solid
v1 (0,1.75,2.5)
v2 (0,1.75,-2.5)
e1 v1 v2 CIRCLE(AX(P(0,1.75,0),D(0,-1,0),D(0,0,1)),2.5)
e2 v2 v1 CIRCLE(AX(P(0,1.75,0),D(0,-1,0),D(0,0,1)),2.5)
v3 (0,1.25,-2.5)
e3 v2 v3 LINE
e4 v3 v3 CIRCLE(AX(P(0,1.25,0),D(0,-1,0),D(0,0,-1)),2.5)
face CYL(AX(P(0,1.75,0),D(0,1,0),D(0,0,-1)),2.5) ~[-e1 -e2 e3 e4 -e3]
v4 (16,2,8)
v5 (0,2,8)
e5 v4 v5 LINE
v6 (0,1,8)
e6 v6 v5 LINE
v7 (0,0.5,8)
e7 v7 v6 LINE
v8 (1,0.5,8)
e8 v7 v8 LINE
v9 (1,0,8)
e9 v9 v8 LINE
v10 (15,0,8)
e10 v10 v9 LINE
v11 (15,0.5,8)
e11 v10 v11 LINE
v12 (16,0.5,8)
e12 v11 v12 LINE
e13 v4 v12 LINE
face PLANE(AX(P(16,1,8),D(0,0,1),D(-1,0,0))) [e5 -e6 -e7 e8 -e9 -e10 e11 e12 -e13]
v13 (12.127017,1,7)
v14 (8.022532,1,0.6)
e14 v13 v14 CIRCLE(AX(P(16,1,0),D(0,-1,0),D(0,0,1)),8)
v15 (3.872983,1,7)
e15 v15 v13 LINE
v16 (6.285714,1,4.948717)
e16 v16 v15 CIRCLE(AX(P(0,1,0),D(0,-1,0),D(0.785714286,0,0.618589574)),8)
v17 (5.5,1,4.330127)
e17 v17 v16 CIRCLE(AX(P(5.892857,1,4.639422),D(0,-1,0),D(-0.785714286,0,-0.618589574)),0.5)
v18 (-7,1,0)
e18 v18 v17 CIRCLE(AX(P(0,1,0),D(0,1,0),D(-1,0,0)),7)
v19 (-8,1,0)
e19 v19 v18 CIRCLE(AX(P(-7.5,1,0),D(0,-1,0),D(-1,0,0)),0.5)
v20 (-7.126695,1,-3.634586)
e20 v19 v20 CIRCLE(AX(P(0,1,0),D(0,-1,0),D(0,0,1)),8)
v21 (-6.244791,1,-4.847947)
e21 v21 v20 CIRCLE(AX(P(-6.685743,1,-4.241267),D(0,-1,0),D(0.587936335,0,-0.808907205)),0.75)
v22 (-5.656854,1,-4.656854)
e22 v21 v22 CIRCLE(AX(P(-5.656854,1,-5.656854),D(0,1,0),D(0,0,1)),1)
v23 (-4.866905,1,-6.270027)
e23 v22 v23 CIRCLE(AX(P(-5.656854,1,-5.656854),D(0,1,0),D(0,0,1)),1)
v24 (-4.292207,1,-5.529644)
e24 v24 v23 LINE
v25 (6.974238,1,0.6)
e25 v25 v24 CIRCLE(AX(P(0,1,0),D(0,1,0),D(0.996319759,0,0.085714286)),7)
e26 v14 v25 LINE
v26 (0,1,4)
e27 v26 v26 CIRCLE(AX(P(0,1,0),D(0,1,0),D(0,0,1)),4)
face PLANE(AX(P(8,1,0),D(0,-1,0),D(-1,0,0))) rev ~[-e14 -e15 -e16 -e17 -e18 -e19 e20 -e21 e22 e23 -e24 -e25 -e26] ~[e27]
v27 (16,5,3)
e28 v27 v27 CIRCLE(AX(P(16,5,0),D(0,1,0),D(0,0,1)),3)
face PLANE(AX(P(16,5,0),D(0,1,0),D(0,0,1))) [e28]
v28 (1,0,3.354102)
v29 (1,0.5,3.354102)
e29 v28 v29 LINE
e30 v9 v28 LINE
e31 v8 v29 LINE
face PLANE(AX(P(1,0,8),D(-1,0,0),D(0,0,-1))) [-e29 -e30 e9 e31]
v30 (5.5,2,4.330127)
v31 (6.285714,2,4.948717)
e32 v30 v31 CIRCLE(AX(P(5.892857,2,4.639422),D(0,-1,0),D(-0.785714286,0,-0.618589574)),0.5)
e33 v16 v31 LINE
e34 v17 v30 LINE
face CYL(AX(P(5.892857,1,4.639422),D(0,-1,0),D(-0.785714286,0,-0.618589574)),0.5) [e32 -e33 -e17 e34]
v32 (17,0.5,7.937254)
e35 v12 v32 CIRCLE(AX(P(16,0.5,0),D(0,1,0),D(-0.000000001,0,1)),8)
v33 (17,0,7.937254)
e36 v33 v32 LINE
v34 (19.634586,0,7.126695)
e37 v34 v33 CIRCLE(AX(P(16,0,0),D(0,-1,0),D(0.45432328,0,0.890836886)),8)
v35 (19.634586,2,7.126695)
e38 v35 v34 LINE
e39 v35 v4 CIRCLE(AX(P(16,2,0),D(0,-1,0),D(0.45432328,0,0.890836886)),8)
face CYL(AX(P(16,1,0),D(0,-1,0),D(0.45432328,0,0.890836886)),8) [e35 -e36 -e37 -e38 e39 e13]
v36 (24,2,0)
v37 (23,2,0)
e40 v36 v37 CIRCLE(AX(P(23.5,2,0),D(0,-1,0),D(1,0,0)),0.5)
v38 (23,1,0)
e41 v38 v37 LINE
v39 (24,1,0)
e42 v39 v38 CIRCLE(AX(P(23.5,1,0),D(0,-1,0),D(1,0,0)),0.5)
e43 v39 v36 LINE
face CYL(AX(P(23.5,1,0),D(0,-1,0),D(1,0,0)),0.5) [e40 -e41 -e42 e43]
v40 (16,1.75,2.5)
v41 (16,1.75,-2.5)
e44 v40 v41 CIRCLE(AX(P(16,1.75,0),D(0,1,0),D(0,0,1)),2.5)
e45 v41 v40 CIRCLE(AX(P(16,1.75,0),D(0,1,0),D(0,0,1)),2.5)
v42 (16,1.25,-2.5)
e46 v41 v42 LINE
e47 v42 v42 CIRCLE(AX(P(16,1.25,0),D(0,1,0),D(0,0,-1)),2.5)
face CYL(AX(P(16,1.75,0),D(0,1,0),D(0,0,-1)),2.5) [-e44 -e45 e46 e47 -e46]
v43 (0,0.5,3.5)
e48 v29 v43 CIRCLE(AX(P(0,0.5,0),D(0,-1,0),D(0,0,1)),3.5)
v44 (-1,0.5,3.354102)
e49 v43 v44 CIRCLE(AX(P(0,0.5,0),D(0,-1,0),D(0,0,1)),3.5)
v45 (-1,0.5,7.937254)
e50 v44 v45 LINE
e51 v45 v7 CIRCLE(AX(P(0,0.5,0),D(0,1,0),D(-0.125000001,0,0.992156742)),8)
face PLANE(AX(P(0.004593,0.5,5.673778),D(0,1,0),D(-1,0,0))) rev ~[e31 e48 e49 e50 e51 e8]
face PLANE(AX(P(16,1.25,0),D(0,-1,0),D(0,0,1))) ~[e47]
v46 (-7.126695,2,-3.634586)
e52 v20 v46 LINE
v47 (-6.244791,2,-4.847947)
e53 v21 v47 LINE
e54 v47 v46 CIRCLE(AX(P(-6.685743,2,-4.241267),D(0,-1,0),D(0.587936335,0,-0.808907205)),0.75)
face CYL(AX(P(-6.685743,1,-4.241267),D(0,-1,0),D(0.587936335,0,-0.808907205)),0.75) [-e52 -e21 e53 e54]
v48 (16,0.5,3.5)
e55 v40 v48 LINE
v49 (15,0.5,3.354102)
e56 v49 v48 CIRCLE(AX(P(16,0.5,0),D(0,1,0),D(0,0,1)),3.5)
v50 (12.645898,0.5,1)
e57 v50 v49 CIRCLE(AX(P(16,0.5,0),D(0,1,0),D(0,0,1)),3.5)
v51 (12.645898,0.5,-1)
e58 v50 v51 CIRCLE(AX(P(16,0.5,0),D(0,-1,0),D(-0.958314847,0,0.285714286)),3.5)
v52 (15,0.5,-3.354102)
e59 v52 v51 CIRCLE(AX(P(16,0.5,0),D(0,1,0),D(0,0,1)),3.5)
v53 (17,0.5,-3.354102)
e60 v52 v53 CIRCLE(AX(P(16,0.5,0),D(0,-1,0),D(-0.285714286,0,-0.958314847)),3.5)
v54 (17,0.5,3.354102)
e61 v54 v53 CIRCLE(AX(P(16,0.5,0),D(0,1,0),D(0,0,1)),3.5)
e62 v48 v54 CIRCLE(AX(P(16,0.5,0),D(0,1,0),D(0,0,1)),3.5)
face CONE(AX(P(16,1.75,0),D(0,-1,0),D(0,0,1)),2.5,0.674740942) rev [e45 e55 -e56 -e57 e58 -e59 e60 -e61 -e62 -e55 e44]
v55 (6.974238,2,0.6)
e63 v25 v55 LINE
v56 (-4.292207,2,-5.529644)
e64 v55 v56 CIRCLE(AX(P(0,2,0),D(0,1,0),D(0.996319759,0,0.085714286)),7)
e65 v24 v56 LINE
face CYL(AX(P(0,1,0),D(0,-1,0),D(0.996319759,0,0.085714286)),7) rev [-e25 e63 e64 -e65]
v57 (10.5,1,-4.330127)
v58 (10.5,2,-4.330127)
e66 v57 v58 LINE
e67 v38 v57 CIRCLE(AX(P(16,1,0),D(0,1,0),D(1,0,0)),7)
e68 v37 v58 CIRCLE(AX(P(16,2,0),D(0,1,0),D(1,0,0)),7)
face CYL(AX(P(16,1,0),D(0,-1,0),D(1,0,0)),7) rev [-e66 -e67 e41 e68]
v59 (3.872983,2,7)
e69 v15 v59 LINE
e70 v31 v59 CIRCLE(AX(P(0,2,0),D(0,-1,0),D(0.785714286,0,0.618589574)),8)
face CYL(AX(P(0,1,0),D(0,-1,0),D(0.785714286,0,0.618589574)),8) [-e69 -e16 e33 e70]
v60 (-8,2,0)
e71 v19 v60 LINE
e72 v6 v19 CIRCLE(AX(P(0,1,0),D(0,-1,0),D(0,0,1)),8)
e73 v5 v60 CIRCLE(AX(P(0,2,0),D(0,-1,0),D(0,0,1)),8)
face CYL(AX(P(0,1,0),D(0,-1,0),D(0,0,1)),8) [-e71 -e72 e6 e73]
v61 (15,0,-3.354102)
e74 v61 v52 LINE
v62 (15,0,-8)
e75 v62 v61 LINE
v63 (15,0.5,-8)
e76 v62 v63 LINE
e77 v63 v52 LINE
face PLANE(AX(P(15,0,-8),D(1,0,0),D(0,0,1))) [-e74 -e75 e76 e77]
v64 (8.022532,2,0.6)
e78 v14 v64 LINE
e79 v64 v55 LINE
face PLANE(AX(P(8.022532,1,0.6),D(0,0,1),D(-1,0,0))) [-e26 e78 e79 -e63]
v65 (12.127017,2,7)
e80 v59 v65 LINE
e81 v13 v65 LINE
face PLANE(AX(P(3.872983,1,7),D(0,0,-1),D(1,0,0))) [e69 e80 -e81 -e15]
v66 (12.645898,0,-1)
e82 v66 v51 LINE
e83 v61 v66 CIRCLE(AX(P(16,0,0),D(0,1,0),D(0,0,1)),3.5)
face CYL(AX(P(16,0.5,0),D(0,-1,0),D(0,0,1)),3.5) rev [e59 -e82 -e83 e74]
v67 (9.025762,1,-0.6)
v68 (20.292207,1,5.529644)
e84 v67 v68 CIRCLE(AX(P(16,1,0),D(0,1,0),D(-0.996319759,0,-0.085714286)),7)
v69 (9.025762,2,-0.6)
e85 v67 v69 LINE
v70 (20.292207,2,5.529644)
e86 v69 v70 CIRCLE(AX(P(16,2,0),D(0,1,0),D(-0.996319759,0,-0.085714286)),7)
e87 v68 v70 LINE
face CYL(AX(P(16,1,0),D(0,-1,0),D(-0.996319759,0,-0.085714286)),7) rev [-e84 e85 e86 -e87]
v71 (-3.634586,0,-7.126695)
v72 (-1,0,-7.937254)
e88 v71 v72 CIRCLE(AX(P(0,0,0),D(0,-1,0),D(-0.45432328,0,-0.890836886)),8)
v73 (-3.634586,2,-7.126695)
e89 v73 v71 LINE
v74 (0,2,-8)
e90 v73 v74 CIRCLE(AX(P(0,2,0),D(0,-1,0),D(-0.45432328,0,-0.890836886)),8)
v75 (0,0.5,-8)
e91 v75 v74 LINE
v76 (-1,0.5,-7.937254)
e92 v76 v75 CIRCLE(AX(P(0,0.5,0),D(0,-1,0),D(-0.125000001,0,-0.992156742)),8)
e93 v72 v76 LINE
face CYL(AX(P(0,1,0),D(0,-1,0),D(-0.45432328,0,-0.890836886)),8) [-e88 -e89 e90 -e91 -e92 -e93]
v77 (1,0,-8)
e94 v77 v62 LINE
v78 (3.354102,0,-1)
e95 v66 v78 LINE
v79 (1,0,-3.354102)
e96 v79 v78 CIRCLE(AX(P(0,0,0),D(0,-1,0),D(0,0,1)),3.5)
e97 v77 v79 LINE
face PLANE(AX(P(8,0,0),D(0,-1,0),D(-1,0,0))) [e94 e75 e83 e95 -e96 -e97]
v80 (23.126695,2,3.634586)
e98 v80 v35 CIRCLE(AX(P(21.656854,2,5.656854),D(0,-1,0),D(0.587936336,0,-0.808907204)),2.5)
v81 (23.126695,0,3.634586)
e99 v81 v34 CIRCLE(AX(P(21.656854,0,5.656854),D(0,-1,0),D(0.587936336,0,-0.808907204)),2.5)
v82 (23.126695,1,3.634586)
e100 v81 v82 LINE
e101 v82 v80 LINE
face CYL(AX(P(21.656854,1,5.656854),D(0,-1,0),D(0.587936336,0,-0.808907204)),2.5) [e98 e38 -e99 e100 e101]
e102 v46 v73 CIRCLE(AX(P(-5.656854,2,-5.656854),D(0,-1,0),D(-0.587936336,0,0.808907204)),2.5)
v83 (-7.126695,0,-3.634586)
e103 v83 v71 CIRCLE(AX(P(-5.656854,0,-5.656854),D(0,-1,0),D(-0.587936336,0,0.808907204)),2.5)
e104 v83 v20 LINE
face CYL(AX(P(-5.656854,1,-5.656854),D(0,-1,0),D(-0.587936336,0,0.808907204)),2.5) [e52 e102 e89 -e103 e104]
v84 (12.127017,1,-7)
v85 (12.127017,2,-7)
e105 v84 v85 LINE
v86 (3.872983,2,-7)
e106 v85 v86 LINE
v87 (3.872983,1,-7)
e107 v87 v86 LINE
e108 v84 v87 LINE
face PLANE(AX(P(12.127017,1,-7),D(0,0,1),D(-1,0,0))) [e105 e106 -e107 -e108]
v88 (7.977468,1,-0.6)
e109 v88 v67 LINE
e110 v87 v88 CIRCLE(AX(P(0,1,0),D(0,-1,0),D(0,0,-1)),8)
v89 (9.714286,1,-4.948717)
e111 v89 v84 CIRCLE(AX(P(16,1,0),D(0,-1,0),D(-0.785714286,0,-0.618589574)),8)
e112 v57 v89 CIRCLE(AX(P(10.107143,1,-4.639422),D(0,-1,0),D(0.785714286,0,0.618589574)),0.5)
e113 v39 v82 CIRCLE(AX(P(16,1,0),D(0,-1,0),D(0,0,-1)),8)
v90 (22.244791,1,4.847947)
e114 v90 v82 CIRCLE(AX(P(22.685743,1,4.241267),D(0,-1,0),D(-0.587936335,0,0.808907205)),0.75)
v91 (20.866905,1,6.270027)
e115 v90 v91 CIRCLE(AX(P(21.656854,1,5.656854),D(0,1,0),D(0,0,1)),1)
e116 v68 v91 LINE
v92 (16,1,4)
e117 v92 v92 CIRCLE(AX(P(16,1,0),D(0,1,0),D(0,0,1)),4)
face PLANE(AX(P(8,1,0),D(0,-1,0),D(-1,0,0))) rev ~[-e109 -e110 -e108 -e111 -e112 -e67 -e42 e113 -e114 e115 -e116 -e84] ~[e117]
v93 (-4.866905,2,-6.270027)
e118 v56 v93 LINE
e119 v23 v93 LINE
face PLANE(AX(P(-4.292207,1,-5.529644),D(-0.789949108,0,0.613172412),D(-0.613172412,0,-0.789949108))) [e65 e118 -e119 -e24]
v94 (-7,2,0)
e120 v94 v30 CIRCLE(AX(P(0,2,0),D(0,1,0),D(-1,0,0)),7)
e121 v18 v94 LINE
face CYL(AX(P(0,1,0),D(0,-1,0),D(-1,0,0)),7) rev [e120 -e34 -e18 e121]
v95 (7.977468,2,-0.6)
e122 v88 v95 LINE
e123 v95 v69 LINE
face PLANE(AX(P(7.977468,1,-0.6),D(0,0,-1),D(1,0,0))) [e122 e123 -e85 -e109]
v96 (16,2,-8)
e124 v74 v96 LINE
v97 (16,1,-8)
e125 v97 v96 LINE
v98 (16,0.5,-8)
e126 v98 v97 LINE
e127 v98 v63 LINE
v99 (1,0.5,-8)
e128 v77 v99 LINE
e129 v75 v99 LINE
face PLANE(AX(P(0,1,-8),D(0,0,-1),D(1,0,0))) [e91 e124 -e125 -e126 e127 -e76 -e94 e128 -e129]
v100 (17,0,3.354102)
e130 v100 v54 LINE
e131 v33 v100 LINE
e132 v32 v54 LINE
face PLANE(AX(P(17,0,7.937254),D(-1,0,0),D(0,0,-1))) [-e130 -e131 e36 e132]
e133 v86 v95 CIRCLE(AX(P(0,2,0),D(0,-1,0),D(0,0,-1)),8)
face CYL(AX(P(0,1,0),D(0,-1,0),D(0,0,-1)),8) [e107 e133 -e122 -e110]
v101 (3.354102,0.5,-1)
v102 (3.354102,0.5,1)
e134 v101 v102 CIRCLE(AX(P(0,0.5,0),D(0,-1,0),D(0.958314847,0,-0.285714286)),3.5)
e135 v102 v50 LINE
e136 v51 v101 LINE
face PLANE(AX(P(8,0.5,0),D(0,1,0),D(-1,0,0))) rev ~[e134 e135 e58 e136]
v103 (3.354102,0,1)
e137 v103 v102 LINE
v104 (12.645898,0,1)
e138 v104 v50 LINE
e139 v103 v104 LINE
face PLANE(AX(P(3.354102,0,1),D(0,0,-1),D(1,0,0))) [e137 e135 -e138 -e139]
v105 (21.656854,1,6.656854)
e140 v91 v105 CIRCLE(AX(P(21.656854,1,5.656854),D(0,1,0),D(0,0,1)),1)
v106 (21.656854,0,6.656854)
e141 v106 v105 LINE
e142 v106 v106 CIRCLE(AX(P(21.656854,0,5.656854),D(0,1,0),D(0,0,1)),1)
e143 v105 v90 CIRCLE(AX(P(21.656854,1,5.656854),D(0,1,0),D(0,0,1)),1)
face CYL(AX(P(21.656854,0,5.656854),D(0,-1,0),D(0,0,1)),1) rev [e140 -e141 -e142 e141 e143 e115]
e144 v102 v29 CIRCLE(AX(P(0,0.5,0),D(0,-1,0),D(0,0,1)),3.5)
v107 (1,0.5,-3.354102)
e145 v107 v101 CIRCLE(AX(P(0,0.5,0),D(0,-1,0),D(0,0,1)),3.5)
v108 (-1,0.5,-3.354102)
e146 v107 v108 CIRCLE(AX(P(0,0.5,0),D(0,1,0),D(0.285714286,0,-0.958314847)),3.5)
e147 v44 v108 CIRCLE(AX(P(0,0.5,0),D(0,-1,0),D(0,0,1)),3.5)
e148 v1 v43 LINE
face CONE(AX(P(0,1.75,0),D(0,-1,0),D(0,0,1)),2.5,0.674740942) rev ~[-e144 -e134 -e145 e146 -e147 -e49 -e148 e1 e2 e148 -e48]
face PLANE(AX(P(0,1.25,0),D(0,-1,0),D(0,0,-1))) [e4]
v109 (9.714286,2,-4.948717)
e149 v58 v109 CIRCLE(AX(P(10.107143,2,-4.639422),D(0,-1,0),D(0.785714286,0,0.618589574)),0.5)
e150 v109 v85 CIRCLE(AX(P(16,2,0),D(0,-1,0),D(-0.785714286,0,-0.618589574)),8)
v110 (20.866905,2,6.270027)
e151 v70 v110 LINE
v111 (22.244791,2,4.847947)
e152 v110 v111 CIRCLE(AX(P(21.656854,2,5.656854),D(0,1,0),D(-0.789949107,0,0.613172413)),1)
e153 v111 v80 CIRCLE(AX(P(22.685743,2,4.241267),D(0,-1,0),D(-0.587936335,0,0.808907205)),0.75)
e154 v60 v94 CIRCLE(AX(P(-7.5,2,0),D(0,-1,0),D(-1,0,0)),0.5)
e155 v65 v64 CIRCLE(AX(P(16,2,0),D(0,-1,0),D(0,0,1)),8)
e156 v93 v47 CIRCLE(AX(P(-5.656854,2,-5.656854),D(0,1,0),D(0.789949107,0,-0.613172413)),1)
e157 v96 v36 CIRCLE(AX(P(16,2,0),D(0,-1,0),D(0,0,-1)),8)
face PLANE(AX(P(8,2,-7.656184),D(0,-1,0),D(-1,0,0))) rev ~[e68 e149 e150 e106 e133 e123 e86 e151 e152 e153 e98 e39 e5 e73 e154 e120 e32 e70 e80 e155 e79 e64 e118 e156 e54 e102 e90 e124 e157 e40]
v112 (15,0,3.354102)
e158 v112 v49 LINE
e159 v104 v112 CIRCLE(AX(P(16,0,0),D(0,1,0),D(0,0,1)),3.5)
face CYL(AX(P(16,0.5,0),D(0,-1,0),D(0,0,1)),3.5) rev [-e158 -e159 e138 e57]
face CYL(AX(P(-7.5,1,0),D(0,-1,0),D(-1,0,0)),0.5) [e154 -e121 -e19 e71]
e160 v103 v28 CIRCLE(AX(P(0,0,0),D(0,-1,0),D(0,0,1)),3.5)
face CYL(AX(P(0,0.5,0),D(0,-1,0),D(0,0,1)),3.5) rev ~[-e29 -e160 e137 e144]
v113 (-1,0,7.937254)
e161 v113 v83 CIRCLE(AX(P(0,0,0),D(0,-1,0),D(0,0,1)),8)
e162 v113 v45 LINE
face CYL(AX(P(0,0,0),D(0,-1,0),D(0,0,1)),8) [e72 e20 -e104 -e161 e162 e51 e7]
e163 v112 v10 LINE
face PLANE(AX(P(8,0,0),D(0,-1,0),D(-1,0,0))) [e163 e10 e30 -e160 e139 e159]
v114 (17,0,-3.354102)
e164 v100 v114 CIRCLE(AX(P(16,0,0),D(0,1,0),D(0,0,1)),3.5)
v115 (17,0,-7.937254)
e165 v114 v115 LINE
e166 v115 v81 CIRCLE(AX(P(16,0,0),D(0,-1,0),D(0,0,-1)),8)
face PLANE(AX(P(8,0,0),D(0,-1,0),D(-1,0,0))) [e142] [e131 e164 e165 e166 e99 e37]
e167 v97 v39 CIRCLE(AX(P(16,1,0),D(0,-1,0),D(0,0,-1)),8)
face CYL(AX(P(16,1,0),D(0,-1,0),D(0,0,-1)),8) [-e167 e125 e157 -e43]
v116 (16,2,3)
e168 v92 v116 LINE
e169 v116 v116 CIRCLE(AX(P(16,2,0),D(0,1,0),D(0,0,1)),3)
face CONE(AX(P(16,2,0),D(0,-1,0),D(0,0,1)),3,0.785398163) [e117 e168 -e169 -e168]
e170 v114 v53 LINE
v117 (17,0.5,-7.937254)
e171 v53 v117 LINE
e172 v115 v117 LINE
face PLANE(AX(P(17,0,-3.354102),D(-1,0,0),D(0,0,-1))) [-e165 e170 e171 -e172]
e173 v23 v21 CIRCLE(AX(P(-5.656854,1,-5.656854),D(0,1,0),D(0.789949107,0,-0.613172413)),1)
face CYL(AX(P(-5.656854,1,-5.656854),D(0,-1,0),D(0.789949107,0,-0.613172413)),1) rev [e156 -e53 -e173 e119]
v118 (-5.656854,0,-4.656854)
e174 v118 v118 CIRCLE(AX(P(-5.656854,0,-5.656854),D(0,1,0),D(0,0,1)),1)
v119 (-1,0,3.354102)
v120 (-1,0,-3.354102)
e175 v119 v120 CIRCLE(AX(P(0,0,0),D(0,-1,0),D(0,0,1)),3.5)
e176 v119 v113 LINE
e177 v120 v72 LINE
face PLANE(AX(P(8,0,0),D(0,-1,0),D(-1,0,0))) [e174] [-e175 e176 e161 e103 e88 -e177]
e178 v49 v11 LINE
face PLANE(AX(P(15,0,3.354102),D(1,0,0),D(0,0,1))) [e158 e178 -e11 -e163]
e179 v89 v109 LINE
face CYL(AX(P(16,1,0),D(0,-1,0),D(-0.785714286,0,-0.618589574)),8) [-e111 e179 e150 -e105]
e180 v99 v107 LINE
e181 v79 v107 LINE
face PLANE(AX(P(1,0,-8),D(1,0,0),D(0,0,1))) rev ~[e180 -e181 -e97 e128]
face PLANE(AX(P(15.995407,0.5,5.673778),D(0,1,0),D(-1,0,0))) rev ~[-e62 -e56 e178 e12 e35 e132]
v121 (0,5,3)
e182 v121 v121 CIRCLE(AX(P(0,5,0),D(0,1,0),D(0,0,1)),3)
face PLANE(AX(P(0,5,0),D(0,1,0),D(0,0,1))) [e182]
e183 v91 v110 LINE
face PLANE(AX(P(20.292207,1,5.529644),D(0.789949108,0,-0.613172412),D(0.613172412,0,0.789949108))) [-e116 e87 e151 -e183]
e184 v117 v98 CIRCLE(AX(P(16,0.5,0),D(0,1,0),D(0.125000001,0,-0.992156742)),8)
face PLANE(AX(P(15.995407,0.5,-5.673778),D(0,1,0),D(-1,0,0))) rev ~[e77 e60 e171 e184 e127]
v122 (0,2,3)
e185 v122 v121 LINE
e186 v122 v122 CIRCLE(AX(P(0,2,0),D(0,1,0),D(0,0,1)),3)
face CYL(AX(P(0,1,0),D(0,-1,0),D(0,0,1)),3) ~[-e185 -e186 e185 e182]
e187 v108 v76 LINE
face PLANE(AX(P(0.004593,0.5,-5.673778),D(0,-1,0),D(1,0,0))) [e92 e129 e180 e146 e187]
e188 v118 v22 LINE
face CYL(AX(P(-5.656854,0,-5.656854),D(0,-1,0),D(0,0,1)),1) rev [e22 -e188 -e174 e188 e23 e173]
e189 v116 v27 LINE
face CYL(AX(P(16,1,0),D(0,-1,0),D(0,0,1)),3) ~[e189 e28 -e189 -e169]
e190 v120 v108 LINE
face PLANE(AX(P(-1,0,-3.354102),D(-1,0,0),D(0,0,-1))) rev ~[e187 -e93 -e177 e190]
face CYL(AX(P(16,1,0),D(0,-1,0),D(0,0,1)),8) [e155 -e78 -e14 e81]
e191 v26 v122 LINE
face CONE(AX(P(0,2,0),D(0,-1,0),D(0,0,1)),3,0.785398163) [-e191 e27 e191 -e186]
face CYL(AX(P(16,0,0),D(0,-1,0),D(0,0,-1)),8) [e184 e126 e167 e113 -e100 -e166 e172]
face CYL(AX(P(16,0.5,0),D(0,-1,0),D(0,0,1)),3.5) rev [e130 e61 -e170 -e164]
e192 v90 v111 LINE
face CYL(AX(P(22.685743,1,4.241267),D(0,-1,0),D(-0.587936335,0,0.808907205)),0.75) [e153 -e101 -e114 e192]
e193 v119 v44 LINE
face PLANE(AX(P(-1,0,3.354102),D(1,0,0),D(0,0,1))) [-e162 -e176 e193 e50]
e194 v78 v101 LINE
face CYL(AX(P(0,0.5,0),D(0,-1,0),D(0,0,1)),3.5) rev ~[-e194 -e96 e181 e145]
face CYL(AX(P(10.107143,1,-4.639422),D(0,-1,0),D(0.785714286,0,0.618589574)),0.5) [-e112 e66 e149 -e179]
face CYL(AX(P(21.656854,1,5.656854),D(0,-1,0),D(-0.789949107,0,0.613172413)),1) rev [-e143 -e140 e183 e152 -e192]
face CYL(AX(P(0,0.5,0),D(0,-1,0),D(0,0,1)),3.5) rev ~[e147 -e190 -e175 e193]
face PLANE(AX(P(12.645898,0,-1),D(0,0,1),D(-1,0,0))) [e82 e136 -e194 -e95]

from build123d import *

# Parameters (mm, degrees)
SKETCH1_R            = 1
BASE_EXTRUDE_DEPTH   = 1
BOSS_EXTRUDE7_DEPTH  = 1
CIRPATTERN1_COUNT    = 2
BOSS_EXTRUDE8_DEPTH  = 1
SKETCH10_R           = 3
BOSS_EXTRUDE9_DEPTH  = 4
CHAMFER1_SIZE        = 1
CUT_EXTRUDE1_DEPTH   = 0.5
SKETCH14_R           = 2.5
BOSS_EXTRUDE10_DEPTH = 0.5


with BuildPart() as part:
    # Sketch1 → Base Extrude (new body)
    with BuildSketch(Plane(origin=(0, 0, 0), x_dir=(1, 0, 0), z_dir=(0, 1, 0))):
        with BuildLine():
            Line((0, 8), (16, 8))
            ThreePointArc((16, 8), (22.821901857, 4.178714521), (23.126695088, -3.634586238))
            ThreePointArc((23.126695088, -3.634586238), (23.424621202, -7.424621202), (19.634586238, -7.126695088))
            ThreePointArc((19.634586238, -7.126695088), (17.86901569, -7.778610438), (16, -8))
            Line((16, -8), (0, -8))
            ThreePointArc((0, -8), (-6.821901857, -4.178714521), (-7.126695088, 3.634586238))
            ThreePointArc((-7.126695088, 3.634586238), (-7.424621202, 7.424621202), (-3.634586238, 7.126695088))
            ThreePointArc((-3.634586238, 7.126695088), (-1.86901569, 7.778610438), (0, 8))
        make_face()
        with Locations(Location((-5.656854249, 5.656854249, 0), (0, 0, 270))):
            Circle(SKETCH1_R, mode=Mode.SUBTRACT)
        with Locations(Location((21.656854249, -5.656854249, 0), (0, 0, 270))):
            Circle(SKETCH1_R, mode=Mode.SUBTRACT)
    extrude(amount=BASE_EXTRUDE_DEPTH)

    # Sketch4 → Boss-Extrude7 (add)
    with BuildSketch(Plane(origin=(0, 1, 0), x_dir=(1, 0, 0), z_dir=(0, 1, 0))):
        with BuildLine():
            Line((-4.292206887, 5.529643754), (-4.866905142, 6.270026662))
            ThreePointArc((-4.866905142, 6.270026662), (-6.37503243, 6.352713503), (-6.244790585, 4.847947045))
            ThreePointArc((-6.244790585, 4.847947045), (-6.079062433, 3.80031439), (-7.126695088, 3.634586238))
            ThreePointArc((-7.126695088, 3.634586238), (-7.424621202, 7.424621202), (-3.634586238, 7.126695088))
            ThreePointArc((-3.634586238, 7.126695088), (-1.86901569, 7.778610438), (0, 8))
            ThreePointArc((0, 8), (5.656854249, 5.656854249), (8, 0))
            ThreePointArc((8, 0), (8.005634917, -0.300211458), (8.02253173, -0.6))
            Line((8.02253173, -0.6), (6.97423831, -0.6))
            ThreePointArc((6.97423831, -0.6), (3.3453634, 6.148865239), (-4.292206887, 5.529643754))
        make_face()
        with BuildLine():
            ThreePointArc((-7, 0), (-2.291287847, -6.614378278), (5.5, -4.330127019))
            ThreePointArc((5.5, -4.330127019), (6.20215193, -4.246564663), (6.285714286, -4.948716593))
            ThreePointArc((6.285714286, -4.948716593), (3.493584639, -7.196865038), (0, -8))
            ThreePointArc((0, -8), (-5.656854249, -5.656854249), (-8, 0))
            ThreePointArc((-8, 0), (-7.5, 0.5), (-7, 0))
        make_face()
    boss_extrude7 = extrude(amount=BOSS_EXTRUDE7_DEPTH)

    # CirPattern1: Boss-Extrude7 ×2 about axis
    cirpattern1_axis = Axis((8, 0, 0), (0, 1, 0))
    for i in range(1, CIRPATTERN1_COUNT):
        add(boss_extrude7.rotate(cirpattern1_axis, i * 360 / CIRPATTERN1_COUNT))

    # Sketch9 → Boss-Extrude8 (add)
    with BuildSketch(Plane(origin=(0, 1, 0), x_dir=(1, 0, 0), z_dir=(0, 1, 0))):
        with BuildLine():
            Line((12.127016654, 7), (3.872983346, 7))
            ThreePointArc((3.872983346, 7), (2, 7.745966692), (0, 8))
            Line((0, 8), (16, 8))
            ThreePointArc((16, 8), (14, 7.745966692), (12.127016654, 7))
        make_face()
        with BuildLine():
            Line((3.872983346, -7), (12.127016654, -7))
            ThreePointArc((12.127016654, -7), (14, -7.745966692), (16, -8))
            Line((16, -8), (0, -8))
            ThreePointArc((0, -8), (2, -7.745966692), (3.872983346, -7))
        make_face()
    extrude(amount=BOSS_EXTRUDE8_DEPTH)

    # Sketch10 → Boss-Extrude9 (add)
    with BuildSketch(Plane(origin=(0, 1, 0), x_dir=(1, 0, 0), z_dir=(0, 1, 0))):
        with Locations(Location((16, 0, 0), (0, 0, 270))):
            Circle(SKETCH10_R)
        with Locations(Location((0, 0, 0), (0, 0, 270))):
            Circle(SKETCH10_R)
    extrude(amount=BOSS_EXTRUDE9_DEPTH)

    # Chamfer1
    chamfer1_edges = [part.edges().sort_by_distance(p)[0] for p in [
        (16, 1, -3),
        (0, 1, -3),
    ]]
    chamfer(chamfer1_edges, length=CHAMFER1_SIZE)

    # Sketch12 → Back Cavity (revolve, cut)
    with BuildSketch(Plane.XY, mode=Mode.PRIVATE) as back_cavity_sk:
        Polygon((0, 1.75), (2.5, 1.75), (3.5, 0.5), (3.5, 0), (0, 0), align=None)
    back_cavity = revolve(back_cavity_sk.sketch.rotate(Axis((0, 3.203039839, 0), (0, -1, 0)), 90), axis=Axis((0, 3.203039839, 0), (0, -1, 0)), mode=Mode.SUBTRACT)

    # Mirror1: Back Cavity across plane
    add(back_cavity.mirror(Plane(origin=(8, 0, 0), x_dir=(0, 0, 1), z_dir=(1, 0, 0))), mode=Mode.SUBTRACT)

    # Sketch13 → Cut-Extrude1 (cut)
    with BuildSketch(Plane.XZ):
        with BuildLine():
            Line((3.354101966, 1), (12.645898034, 1))
            ThreePointArc((12.645898034, 1), (12.5, 0), (12.645898034, -1))
            Line((12.645898034, -1), (3.354101966, -1))
            ThreePointArc((3.354101966, -1), (3.5, 0), (3.354101966, 1))
        make_face()
        with BuildLine():
            Line((-1, 3.354101966), (-1, 7.937253933))
            ThreePointArc((-1, 7.937253933), (-0.5009833, 7.984298074), (0, 8))
            Line((0, 8), (1, 8))
            Line((1, 8), (1, 3.354101966))
            ThreePointArc((1, 3.354101966), (0, 3.5), (-1, 3.354101966))
        make_face()
        with BuildLine():
            Line((16, -8), (15, -8))
            Line((15, -8), (15, -3.354101966))
            ThreePointArc((15, -3.354101966), (16, -3.5), (17, -3.354101966))
            Line((17, -3.354101966), (17, -7.937253933))
            ThreePointArc((17, -7.937253933), (16.5009833, -7.984298074), (16, -8))
        make_face()
        with BuildLine():
            Line((-1, -3.354101966), (-1, -7.937253933))
            ThreePointArc((-1, -7.937253933), (-0.5009833, -7.984298074), (0, -8))
            Line((0, -8), (1, -8))
            Line((1, -8), (1, -3.354101966))
            ThreePointArc((1, -3.354101966), (0, -3.5), (-1, -3.354101966))
        make_face()
        with BuildLine():
            Line((15, 3.354101966), (15, 8))
            Line((15, 8), (16, 8))
            ThreePointArc((16, 8), (16.5009833, 7.984298074), (17, 7.937253933))
            Line((17, 7.937253933), (17, 3.354101966))
            ThreePointArc((17, 3.354101966), (16, 3.5), (15, 3.354101966))
        make_face()
    extrude(amount=-CUT_EXTRUDE1_DEPTH, mode=Mode.SUBTRACT)

    # Sketch14 → Boss-Extrude10 (add)
    with BuildSketch(Plane.XZ.offset(-1.75)):
        with Locations(Location((0, 0, 0), (0, 0, 270))):
            Circle(SKETCH14_R)
    boss_extrude10 = extrude(amount=BOSS_EXTRUDE10_DEPTH)

    # Mirror2: Boss-Extrude10 across plane
    add(boss_extrude10.mirror(Plane(origin=(8, 0, 0), x_dir=(0, 0, 1), z_dir=(1, 0, 0))))


solid = part.part
